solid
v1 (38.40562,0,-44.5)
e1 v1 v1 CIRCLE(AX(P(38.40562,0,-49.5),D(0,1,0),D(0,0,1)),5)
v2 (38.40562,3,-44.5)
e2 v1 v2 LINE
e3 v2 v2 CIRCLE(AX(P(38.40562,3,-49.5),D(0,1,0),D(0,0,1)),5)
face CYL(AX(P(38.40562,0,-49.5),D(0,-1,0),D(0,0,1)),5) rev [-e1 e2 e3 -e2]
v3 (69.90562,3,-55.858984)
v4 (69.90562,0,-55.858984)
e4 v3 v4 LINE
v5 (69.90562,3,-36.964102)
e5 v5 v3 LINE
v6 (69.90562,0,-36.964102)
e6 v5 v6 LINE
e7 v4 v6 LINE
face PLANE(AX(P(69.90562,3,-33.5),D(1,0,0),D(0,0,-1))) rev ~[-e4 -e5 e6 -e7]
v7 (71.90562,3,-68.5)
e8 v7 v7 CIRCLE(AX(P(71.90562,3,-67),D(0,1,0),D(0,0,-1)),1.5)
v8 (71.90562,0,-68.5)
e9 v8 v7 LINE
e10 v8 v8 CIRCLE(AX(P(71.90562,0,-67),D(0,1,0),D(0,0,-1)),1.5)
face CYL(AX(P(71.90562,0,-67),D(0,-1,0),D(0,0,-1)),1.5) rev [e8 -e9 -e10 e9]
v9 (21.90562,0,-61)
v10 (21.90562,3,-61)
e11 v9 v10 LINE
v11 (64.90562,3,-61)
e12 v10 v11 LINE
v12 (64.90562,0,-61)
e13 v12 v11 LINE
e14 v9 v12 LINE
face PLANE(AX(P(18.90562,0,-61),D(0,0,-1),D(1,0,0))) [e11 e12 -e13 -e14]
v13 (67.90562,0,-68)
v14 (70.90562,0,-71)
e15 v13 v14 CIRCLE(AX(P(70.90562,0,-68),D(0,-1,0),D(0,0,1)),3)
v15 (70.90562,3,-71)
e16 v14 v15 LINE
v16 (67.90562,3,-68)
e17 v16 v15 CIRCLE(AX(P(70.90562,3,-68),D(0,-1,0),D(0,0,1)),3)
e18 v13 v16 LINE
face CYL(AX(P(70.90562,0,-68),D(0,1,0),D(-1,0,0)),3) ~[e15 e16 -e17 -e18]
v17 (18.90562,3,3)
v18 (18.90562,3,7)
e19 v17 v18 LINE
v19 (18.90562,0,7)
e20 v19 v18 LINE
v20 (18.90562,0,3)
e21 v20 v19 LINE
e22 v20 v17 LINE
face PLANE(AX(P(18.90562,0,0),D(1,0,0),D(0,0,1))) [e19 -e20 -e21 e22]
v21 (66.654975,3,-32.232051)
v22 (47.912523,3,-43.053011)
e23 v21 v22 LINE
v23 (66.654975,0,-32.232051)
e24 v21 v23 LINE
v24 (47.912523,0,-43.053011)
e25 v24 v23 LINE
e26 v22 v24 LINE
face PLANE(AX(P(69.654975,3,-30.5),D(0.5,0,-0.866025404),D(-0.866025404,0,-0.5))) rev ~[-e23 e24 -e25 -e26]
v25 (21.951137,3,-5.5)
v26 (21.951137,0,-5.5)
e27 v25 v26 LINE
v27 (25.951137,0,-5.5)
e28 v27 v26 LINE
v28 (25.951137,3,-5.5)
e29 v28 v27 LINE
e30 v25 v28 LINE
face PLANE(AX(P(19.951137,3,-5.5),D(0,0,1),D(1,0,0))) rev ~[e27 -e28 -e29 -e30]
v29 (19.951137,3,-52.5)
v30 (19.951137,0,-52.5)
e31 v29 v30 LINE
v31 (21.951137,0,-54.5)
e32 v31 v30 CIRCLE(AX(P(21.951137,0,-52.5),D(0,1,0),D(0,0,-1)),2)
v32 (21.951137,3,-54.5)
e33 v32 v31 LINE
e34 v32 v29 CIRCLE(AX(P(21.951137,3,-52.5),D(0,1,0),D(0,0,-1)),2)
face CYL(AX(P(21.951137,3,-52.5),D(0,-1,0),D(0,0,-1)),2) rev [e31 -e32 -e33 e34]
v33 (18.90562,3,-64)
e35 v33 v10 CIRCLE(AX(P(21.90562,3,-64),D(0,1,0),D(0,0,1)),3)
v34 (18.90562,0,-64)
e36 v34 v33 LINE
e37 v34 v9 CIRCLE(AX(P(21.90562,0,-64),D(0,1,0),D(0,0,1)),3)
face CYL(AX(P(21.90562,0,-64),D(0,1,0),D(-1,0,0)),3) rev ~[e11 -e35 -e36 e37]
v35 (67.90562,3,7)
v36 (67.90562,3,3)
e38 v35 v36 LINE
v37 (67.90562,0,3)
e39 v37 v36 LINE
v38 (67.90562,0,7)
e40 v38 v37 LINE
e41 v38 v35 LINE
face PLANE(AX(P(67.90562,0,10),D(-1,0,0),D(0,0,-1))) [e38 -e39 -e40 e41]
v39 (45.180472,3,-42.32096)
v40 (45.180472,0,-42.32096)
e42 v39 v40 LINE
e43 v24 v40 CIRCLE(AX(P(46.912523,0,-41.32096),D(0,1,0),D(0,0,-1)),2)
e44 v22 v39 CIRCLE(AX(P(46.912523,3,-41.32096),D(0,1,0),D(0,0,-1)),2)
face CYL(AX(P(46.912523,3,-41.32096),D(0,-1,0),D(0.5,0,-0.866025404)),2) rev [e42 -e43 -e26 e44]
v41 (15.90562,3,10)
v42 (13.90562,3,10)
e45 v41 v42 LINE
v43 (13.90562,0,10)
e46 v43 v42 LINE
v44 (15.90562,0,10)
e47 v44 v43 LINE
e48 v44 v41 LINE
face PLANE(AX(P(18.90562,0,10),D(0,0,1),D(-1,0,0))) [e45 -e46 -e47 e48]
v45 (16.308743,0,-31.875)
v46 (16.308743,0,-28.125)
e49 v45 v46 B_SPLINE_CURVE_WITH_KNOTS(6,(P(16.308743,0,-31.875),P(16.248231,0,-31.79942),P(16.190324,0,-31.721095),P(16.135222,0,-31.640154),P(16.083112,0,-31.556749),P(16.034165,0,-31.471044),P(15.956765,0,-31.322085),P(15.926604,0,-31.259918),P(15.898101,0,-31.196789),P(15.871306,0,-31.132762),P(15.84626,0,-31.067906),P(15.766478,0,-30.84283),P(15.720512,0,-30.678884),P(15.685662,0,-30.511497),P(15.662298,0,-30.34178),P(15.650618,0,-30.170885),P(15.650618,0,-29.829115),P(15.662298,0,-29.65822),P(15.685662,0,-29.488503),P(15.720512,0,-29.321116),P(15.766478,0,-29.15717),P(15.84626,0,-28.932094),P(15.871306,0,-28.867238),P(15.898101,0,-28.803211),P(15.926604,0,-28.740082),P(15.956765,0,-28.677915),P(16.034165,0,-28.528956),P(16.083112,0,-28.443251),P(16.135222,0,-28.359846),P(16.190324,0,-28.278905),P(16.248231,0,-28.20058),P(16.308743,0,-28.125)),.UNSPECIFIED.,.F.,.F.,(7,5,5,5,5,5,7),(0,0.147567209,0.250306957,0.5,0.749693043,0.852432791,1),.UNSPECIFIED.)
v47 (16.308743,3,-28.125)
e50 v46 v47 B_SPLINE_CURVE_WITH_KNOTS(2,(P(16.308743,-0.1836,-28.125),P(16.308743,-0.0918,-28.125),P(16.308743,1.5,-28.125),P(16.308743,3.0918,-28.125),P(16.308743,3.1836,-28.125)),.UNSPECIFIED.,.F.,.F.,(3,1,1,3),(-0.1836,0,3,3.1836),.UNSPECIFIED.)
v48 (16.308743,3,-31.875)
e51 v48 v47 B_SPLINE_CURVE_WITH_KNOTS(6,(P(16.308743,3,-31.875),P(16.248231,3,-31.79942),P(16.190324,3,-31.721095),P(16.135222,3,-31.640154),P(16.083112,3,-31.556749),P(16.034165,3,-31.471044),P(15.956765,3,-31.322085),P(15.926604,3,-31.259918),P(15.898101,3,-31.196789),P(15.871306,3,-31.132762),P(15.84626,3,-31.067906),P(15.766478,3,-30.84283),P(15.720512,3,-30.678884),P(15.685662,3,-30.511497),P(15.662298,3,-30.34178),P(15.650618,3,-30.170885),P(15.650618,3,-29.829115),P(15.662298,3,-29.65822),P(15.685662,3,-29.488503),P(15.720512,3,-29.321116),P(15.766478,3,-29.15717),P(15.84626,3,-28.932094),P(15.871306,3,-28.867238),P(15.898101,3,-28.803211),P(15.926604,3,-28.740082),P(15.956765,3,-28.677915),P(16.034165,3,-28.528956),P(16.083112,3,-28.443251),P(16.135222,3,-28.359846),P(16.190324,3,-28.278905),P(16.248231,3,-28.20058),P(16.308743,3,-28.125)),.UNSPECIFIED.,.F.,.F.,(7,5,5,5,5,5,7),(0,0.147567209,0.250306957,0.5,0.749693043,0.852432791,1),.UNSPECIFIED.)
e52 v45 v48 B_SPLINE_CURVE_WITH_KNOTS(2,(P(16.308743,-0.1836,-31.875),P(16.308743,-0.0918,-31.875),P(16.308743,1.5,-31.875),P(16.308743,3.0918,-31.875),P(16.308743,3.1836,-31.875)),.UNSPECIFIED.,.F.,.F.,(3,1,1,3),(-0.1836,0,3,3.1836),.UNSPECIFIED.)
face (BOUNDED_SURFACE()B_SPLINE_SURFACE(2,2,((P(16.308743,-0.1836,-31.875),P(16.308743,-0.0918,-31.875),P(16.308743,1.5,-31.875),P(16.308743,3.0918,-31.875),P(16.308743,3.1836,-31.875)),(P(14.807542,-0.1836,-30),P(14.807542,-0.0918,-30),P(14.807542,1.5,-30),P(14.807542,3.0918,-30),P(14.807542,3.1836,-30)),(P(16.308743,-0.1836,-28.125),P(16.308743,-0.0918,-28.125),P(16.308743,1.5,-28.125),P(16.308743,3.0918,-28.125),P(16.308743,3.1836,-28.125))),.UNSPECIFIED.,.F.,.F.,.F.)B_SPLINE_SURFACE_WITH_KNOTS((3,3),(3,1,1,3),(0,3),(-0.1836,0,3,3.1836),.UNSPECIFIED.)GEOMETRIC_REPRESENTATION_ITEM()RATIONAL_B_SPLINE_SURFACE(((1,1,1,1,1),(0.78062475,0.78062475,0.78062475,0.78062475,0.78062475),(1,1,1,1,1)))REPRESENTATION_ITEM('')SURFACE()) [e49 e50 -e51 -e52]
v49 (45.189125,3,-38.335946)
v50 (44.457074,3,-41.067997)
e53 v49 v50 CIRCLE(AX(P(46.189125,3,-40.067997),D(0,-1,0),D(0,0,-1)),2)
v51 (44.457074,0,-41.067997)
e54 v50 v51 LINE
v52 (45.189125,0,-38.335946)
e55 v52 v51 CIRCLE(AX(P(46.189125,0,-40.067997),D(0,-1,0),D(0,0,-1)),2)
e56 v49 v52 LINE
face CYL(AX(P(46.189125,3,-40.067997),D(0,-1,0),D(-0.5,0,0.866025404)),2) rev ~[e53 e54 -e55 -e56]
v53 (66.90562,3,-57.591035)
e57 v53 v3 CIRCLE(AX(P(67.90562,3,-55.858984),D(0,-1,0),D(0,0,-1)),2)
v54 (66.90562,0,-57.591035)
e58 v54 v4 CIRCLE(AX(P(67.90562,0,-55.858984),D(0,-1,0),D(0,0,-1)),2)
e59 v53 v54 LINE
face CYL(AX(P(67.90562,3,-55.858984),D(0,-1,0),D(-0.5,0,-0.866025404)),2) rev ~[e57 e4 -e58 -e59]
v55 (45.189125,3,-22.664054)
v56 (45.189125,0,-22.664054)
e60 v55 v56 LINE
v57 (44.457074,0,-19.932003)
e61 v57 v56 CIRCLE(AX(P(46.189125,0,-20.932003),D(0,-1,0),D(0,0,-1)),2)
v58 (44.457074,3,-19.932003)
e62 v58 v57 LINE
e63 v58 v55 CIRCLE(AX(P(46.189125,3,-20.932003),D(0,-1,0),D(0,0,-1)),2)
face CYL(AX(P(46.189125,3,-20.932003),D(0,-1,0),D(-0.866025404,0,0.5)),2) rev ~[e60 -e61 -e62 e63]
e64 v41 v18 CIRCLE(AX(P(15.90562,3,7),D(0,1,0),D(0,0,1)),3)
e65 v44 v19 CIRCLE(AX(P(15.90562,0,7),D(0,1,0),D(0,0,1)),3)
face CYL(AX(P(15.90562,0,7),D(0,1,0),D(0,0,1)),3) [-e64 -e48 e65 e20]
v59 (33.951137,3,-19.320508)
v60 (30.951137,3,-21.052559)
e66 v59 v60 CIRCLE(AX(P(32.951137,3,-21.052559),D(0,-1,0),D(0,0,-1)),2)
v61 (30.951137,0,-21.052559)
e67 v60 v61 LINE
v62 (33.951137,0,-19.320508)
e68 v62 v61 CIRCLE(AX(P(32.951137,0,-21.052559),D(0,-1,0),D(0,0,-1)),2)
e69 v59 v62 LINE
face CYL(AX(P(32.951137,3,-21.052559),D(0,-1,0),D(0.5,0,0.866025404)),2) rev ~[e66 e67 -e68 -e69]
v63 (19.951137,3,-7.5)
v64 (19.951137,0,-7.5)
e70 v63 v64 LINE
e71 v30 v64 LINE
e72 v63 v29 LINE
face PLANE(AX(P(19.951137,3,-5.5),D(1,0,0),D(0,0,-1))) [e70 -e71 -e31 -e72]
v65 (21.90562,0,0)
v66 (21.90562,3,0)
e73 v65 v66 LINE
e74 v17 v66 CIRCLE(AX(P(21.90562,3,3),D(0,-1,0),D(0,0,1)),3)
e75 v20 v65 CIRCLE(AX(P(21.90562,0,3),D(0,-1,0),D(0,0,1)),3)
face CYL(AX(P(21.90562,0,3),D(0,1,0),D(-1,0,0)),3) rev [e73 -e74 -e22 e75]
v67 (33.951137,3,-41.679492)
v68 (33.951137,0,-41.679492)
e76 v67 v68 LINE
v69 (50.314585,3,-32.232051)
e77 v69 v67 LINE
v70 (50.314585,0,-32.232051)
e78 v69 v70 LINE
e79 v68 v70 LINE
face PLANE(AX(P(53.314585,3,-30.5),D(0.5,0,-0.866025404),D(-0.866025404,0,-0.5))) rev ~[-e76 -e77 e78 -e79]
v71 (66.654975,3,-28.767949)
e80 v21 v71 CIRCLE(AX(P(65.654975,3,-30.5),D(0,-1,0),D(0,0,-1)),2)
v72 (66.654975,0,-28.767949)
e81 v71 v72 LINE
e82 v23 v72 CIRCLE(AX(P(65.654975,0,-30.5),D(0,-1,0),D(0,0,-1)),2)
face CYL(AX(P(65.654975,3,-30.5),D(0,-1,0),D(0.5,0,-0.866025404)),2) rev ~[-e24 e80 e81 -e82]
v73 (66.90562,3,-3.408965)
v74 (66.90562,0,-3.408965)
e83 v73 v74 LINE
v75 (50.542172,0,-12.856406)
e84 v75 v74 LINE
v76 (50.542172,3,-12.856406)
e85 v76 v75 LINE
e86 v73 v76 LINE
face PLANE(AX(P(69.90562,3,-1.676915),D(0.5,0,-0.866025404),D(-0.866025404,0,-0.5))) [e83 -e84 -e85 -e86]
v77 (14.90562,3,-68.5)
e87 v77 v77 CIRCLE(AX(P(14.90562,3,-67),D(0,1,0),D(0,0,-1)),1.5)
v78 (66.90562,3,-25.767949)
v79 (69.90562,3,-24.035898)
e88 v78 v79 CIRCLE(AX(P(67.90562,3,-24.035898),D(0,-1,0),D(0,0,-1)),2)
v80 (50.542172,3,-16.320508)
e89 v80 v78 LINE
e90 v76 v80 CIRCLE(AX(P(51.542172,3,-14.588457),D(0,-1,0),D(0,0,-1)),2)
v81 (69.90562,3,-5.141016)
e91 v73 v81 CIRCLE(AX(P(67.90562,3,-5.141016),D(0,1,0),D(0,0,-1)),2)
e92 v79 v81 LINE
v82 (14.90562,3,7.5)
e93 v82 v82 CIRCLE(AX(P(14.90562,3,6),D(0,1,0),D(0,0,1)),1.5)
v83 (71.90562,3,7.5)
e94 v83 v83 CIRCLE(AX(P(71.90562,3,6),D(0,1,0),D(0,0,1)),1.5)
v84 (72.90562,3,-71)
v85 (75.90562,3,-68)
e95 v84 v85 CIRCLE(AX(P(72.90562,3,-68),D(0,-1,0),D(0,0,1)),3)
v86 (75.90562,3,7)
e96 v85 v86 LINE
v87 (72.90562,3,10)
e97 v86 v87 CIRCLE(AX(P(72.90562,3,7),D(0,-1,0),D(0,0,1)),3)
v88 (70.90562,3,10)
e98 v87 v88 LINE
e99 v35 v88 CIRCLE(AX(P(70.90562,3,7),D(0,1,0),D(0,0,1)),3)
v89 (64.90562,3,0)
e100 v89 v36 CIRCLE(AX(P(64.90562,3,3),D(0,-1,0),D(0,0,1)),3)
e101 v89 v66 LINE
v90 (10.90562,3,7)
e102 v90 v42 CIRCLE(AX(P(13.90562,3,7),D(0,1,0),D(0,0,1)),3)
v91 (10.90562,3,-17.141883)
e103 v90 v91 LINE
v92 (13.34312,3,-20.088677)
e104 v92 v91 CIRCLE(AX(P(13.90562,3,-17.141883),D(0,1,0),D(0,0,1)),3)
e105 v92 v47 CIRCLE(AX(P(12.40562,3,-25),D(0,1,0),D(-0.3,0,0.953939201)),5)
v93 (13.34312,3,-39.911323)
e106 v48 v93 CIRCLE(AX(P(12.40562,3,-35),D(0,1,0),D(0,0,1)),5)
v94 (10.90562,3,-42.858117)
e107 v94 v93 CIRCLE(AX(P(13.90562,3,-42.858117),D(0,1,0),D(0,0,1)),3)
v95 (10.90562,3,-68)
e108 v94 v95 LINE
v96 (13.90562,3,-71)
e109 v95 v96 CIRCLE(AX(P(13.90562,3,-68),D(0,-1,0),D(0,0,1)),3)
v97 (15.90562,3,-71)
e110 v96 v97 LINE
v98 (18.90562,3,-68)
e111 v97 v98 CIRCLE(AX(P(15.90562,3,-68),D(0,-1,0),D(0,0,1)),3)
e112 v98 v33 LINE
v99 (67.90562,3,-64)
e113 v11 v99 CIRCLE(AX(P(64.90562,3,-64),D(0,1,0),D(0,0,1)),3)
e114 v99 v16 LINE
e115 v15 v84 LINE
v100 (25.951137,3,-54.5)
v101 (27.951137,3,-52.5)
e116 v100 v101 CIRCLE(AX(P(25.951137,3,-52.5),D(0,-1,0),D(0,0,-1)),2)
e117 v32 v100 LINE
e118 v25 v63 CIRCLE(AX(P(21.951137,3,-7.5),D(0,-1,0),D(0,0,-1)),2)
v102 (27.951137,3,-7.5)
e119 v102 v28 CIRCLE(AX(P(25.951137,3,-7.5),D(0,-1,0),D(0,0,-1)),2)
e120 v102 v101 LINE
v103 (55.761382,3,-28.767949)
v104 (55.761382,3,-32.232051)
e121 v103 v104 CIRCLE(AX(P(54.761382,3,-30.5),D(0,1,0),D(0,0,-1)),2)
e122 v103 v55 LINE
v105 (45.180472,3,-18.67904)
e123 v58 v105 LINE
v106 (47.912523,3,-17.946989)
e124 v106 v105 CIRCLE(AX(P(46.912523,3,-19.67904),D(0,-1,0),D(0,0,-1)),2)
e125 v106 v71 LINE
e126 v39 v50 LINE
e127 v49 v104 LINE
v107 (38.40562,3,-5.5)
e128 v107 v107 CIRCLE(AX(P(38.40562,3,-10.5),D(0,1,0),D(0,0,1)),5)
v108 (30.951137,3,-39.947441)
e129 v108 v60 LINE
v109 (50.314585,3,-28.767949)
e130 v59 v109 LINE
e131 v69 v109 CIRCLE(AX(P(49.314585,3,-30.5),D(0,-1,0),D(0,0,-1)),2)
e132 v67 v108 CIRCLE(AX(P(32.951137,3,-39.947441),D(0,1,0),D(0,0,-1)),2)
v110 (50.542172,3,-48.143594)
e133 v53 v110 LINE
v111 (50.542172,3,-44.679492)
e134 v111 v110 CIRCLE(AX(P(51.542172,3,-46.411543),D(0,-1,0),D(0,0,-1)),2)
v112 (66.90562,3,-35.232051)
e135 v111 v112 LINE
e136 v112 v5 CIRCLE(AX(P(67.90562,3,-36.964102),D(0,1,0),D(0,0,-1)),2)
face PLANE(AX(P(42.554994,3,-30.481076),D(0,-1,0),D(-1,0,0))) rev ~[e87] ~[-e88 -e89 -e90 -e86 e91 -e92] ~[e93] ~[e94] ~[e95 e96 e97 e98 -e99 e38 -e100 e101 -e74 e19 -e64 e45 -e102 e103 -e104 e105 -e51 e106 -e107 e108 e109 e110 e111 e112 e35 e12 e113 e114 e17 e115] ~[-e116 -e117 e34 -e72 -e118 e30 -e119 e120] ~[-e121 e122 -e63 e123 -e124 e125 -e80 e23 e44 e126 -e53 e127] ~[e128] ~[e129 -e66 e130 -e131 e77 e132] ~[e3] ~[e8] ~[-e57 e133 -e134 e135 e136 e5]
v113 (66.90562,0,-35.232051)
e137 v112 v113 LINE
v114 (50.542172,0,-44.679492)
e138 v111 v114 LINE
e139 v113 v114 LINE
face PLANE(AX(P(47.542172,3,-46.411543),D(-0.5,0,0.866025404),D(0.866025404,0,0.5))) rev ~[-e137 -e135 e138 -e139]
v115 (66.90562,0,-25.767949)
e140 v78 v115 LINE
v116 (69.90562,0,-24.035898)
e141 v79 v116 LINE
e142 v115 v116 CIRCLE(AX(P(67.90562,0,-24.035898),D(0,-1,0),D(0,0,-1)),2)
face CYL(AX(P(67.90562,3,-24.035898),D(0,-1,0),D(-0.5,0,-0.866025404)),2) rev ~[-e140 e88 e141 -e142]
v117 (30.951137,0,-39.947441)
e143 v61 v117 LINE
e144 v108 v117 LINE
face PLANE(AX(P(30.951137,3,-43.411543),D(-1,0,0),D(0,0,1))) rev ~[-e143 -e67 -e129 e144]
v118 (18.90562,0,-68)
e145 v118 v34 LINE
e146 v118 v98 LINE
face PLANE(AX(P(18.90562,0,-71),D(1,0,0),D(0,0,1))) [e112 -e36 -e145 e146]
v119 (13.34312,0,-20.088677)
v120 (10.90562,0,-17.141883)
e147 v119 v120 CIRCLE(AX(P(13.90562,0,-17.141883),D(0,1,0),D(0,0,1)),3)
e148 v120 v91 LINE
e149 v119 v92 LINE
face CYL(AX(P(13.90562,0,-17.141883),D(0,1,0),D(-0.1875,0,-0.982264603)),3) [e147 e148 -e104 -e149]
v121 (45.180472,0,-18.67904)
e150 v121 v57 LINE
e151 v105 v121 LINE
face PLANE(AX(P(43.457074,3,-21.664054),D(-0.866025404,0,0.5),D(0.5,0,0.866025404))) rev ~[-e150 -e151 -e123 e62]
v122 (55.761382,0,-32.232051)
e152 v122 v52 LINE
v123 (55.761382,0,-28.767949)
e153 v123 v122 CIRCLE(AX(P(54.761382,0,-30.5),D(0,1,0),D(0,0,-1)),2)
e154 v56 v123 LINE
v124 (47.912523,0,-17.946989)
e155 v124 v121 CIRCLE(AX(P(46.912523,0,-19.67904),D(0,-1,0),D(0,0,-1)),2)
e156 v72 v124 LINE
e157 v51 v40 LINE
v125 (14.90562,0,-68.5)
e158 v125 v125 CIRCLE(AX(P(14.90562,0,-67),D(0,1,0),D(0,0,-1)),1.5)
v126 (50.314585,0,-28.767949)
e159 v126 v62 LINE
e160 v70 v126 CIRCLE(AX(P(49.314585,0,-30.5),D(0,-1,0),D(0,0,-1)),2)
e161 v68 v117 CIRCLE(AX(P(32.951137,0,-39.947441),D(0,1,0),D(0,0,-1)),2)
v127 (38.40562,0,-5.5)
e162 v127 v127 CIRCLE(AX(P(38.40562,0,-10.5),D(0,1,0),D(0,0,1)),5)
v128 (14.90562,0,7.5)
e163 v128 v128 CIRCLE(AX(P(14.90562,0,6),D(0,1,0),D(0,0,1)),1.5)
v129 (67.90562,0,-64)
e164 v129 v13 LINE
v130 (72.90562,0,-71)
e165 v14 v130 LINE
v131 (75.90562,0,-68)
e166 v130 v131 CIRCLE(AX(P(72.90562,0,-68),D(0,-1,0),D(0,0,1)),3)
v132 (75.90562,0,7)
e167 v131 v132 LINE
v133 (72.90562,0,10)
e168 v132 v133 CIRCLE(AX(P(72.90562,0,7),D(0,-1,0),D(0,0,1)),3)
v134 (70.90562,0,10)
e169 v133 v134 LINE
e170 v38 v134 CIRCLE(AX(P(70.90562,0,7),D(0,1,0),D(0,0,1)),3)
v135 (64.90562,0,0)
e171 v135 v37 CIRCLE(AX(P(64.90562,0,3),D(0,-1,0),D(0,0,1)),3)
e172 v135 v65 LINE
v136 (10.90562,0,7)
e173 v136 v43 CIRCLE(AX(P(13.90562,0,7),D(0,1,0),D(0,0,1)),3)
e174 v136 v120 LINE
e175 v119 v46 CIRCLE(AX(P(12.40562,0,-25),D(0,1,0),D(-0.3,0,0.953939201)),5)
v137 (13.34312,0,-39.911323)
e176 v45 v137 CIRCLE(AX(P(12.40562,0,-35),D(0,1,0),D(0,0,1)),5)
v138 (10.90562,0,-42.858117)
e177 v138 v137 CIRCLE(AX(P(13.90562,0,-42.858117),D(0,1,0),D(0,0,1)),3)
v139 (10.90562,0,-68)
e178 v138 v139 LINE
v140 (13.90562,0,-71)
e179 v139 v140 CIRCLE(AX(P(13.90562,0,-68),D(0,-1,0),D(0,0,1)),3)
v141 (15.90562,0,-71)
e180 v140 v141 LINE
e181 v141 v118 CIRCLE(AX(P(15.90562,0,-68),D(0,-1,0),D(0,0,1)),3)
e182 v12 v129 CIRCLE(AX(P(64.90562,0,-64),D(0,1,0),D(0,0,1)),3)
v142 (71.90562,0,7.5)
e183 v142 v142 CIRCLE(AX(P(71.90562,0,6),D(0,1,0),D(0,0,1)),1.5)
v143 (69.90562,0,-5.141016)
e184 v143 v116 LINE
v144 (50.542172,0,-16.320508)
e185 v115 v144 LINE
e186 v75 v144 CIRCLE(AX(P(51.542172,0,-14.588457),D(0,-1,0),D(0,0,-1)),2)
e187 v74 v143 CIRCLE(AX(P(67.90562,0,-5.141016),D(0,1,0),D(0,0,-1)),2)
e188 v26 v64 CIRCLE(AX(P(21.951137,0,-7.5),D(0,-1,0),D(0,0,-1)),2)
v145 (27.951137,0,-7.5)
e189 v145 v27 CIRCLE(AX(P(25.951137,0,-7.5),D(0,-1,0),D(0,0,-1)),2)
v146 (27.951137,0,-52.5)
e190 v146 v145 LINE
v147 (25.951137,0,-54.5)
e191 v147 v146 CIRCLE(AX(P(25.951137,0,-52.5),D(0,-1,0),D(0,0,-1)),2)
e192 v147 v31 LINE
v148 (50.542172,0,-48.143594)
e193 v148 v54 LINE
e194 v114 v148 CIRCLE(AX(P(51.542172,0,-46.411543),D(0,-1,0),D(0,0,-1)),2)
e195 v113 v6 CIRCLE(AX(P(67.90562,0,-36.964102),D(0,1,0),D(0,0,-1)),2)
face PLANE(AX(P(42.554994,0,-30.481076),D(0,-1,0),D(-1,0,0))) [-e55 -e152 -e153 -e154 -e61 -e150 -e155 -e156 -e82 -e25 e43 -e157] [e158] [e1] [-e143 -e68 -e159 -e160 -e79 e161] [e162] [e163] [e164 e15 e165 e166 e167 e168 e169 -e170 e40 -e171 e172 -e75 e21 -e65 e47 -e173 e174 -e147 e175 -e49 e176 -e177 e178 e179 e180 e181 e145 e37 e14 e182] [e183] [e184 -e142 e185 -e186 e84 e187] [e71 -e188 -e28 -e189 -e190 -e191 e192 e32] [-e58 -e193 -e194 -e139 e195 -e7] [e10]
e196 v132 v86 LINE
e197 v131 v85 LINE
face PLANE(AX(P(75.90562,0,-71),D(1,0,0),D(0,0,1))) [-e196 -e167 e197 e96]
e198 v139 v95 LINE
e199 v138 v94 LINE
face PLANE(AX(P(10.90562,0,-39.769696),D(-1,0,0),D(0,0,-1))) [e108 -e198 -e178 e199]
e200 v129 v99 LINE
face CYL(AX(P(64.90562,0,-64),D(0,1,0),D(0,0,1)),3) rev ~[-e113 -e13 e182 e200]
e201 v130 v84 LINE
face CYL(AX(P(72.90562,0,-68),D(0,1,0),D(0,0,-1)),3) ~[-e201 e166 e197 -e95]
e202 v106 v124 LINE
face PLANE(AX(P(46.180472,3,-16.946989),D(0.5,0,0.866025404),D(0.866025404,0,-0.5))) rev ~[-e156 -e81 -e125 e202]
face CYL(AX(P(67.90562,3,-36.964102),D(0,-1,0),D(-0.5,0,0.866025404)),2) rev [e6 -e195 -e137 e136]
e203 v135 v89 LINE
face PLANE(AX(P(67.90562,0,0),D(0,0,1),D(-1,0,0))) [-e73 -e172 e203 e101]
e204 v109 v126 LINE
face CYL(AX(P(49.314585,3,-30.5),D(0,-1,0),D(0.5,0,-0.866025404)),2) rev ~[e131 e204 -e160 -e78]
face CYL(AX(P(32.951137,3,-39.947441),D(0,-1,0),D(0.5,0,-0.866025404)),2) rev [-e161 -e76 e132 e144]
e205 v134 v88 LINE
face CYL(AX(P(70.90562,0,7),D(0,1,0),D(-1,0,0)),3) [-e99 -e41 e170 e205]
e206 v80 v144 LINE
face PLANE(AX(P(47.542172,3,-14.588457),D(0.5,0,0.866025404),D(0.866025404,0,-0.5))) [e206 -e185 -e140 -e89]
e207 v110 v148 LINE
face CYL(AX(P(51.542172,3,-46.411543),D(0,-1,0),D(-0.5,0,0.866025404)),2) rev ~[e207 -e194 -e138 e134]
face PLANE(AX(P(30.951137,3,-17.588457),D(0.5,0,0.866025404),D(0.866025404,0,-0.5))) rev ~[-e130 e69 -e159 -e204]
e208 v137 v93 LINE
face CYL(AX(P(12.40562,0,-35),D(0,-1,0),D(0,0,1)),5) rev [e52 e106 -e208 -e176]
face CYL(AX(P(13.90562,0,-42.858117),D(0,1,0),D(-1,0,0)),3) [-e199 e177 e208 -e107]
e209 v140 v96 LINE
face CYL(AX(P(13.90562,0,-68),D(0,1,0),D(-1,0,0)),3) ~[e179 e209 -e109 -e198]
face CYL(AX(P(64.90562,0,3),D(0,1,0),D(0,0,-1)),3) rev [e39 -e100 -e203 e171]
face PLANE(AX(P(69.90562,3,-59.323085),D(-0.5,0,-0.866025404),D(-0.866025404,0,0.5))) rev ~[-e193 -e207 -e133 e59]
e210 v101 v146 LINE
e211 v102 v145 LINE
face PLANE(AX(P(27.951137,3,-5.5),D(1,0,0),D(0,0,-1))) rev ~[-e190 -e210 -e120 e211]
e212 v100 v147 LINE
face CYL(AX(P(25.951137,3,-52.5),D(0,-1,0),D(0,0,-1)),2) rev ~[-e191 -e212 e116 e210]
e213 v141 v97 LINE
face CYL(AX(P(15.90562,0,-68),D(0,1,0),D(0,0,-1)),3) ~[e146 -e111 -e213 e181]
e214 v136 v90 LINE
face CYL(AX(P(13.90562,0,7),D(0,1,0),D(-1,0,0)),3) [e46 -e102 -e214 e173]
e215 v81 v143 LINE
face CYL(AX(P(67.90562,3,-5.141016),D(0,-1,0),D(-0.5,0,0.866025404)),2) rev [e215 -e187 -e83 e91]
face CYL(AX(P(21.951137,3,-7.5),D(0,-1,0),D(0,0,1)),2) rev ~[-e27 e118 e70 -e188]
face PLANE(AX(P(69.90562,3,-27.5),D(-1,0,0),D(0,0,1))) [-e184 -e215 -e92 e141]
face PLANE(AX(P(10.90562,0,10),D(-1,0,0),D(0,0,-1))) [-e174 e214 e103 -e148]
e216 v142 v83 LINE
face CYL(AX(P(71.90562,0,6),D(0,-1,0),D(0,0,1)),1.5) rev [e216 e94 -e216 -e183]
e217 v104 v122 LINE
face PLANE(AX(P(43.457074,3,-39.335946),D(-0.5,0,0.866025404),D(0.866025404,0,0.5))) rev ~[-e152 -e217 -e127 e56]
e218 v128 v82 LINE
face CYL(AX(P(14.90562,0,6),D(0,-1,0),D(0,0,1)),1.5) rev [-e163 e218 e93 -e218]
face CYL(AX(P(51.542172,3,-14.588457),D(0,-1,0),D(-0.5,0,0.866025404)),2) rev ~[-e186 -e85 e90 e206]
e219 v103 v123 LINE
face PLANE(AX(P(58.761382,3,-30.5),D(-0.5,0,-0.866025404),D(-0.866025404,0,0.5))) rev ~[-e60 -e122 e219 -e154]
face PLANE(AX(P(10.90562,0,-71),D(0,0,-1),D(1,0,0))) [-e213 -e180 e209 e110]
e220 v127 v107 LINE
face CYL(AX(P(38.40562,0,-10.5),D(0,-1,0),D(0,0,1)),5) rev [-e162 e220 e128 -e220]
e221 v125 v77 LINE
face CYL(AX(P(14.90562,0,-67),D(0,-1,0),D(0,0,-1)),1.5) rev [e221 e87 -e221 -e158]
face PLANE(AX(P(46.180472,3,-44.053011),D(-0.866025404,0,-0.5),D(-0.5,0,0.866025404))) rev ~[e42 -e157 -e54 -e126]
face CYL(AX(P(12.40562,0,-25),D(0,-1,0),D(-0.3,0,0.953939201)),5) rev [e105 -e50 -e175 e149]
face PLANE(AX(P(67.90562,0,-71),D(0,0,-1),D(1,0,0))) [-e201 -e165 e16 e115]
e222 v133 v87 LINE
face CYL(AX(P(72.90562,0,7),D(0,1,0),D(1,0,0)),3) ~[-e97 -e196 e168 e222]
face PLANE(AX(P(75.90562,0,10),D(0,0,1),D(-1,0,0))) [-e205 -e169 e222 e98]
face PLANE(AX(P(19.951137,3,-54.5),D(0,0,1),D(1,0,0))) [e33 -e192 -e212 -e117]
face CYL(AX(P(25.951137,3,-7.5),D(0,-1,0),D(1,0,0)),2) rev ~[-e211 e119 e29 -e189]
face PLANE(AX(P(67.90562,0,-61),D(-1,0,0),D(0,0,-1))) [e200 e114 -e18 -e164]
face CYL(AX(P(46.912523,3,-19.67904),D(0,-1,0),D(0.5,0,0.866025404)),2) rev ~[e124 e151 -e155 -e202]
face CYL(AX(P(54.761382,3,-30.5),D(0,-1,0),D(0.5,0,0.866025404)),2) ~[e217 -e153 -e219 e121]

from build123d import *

# Parameters (mm, degrees)
SKETCH1_R           = 5
SKETCH1_R_2         = 1.5
BOSS_EXTRUDE1_DEPTH = 3
FILLET1_R           = 3
SKETCH2_W           = 8
SKETCH2_H           = 49
CUT_EXTRUDE1_DEPTH  = 104.979147454
FILLET2_R           = 2


with BuildPart() as part:
    # Sketch1 → Boss-Extrude1 (new body)
    with BuildSketch(Plane(origin=(0, 0, 0), x_dir=(1, 0, 0), z_dir=(0, 1, 0))):
        with BuildLine():
            Line((10.905619524, 39.769696007), (10.905619524, 61))
            Line((10.905619524, 61), (10.905619524, 71))
            Line((10.905619524, 71), (18.905619524, 71))
            Line((18.905619524, 71), (18.905619524, 61))
            Line((18.905619524, 61), (67.905619524, 61))
            Line((67.905619524, 61), (67.905619524, 71))
            Line((67.905619524, 71), (75.905619524, 71))
            Line((75.905619524, 71), (75.905619524, 61))
            Line((75.905619524, 61), (75.905619524, 0))
            Line((75.905619524, 0), (75.905619524, -10))
            Line((75.905619524, -10), (67.905619524, -10))
            Line((67.905619524, -10), (67.905619524, 0))
            Line((67.905619524, 0), (18.905619524, 0))
            Line((18.905619524, 0), (18.905619524, -10))
            Line((18.905619524, -10), (10.905619524, -10))
            Line((10.905619524, -10), (10.905619524, 0))
            Line((10.905619524, 0), (10.905619524, 20.230303993))
            ThreePointArc((10.905619524, 20.230303993), (17.347708153, 24.241211504), (12.405619524, 30))
            ThreePointArc((12.405619524, 30), (17.347708153, 35.758788496), (10.905619524, 39.769696007))
        make_face()
        with Locations(Location((38.405619524, 10.5, 0), (0, 0, 270))):
            Circle(SKETCH1_R, mode=Mode.SUBTRACT)
        with Locations(Location((38.405619524, 49.5, 0), (0, 0, 270))):
            Circle(SKETCH1_R, mode=Mode.SUBTRACT)
        with Locations(Location((14.905619524, -6, 0), (0, 0, 270))):
            Circle(SKETCH1_R_2, mode=Mode.SUBTRACT)
        with Locations(Location((14.905619524, 67, 0), (0, 0, 90))):
            Circle(SKETCH1_R_2, mode=Mode.SUBTRACT)
        with Locations(Location((71.905619524, -6, 0), (0, 0, 270))):
            Circle(SKETCH1_R_2, mode=Mode.SUBTRACT)
        with Locations(Location((71.905619524, 67, 0), (0, 0, 90))):
            Circle(SKETCH1_R_2, mode=Mode.SUBTRACT)
    extrude(amount=BOSS_EXTRUDE1_DEPTH)

    # Fillet1
    fillet1_edges = [part.edges().sort_by_distance(p)[0] for p in [
        (10.905619524, 1.5, -20.230303993),
        (12.405619524, 1.5, -30),
        (10.905619524, 1.5, -39.769696007),
        (10.905619524, 1.5, -71),
        (18.905619524, 1.5, -71),
        (18.905619524, 1.5, -61),
        (67.905619524, 1.5, -61),
        (67.905619524, 1.5, -71),
        (75.905619524, 1.5, -71),
        (75.905619524, 1.5, 10),
        (67.905619524, 1.5, 10),
        (67.905619524, 1.5, 0),
        (18.905619524, 1.5, 0),
        (18.905619524, 1.5, 10),
        (10.905619524, 1.5, 10),
    ]]
    fillet(fillet1_edges, radius=FILLET1_R)

    # Sketch2 → Cut-Extrude1 (cut, through all)
    with BuildSketch(Plane(origin=(0, 3, 0), x_dir=(1, 0, 0), z_dir=(0, 1, 0))):
        Polygon((53.314584868, 30.5), (30.951136852, 43.411542732), (30.951136852, 17.588457268), align=None)
        Polygon((69.905619524, 27.5), (69.905619524, 1.676914536), (47.542171508, 14.588457268), align=None)
        Polygon((47.542171508, 46.411542732), (69.905619524, 33.5), (69.905619524, 59.323085464), align=None)
        Polygon((69.654975177, 30.5), (46.180472316, 44.053010546), (43.457073931, 39.335946174), (58.761381637, 30.5), (43.457073931, 21.664053826), (46.180472316, 16.946989454), align=None)
        with Locations((23.951136852, 30)):
            Rectangle(SKETCH2_W, SKETCH2_H)
    extrude(amount=-CUT_EXTRUDE1_DEPTH, mode=Mode.SUBTRACT)

    # Fillet2
    fillet2_edges = [part.edges().sort_by_distance(p)[0] for p in [
        (53.314584868, 1.5, -30.5),
        (30.951136852, 1.5, -17.588457268),
        (30.951136852, 1.5, -43.411542732),
        (47.542171508, 1.5, -14.588457268),
        (69.905619524, 1.5, -27.5),
        (69.905619524, 1.5, -1.676914536),
        (47.542171508, 1.5, -46.411542732),
        (69.905619524, 1.5, -59.323085464),
        (69.905619524, 1.5, -33.5),
        (43.457073931, 1.5, -39.335946174),
        (46.180472316, 1.5, -44.053010546),
        (69.654975177, 1.5, -30.5),
        (46.180472316, 1.5, -16.946989454),
        (43.457073931, 1.5, -21.664053826),
        (58.761381637, 1.5, -30.5),
        (27.951136852, 1.5, -54.5),
        (27.951136852, 1.5, -5.5),
        (19.951136852, 1.5, -5.5),
        (19.951136852, 1.5, -54.5),
    ]]
    fillet(fillet2_edges, radius=FILLET2_R)


solid = part.part
